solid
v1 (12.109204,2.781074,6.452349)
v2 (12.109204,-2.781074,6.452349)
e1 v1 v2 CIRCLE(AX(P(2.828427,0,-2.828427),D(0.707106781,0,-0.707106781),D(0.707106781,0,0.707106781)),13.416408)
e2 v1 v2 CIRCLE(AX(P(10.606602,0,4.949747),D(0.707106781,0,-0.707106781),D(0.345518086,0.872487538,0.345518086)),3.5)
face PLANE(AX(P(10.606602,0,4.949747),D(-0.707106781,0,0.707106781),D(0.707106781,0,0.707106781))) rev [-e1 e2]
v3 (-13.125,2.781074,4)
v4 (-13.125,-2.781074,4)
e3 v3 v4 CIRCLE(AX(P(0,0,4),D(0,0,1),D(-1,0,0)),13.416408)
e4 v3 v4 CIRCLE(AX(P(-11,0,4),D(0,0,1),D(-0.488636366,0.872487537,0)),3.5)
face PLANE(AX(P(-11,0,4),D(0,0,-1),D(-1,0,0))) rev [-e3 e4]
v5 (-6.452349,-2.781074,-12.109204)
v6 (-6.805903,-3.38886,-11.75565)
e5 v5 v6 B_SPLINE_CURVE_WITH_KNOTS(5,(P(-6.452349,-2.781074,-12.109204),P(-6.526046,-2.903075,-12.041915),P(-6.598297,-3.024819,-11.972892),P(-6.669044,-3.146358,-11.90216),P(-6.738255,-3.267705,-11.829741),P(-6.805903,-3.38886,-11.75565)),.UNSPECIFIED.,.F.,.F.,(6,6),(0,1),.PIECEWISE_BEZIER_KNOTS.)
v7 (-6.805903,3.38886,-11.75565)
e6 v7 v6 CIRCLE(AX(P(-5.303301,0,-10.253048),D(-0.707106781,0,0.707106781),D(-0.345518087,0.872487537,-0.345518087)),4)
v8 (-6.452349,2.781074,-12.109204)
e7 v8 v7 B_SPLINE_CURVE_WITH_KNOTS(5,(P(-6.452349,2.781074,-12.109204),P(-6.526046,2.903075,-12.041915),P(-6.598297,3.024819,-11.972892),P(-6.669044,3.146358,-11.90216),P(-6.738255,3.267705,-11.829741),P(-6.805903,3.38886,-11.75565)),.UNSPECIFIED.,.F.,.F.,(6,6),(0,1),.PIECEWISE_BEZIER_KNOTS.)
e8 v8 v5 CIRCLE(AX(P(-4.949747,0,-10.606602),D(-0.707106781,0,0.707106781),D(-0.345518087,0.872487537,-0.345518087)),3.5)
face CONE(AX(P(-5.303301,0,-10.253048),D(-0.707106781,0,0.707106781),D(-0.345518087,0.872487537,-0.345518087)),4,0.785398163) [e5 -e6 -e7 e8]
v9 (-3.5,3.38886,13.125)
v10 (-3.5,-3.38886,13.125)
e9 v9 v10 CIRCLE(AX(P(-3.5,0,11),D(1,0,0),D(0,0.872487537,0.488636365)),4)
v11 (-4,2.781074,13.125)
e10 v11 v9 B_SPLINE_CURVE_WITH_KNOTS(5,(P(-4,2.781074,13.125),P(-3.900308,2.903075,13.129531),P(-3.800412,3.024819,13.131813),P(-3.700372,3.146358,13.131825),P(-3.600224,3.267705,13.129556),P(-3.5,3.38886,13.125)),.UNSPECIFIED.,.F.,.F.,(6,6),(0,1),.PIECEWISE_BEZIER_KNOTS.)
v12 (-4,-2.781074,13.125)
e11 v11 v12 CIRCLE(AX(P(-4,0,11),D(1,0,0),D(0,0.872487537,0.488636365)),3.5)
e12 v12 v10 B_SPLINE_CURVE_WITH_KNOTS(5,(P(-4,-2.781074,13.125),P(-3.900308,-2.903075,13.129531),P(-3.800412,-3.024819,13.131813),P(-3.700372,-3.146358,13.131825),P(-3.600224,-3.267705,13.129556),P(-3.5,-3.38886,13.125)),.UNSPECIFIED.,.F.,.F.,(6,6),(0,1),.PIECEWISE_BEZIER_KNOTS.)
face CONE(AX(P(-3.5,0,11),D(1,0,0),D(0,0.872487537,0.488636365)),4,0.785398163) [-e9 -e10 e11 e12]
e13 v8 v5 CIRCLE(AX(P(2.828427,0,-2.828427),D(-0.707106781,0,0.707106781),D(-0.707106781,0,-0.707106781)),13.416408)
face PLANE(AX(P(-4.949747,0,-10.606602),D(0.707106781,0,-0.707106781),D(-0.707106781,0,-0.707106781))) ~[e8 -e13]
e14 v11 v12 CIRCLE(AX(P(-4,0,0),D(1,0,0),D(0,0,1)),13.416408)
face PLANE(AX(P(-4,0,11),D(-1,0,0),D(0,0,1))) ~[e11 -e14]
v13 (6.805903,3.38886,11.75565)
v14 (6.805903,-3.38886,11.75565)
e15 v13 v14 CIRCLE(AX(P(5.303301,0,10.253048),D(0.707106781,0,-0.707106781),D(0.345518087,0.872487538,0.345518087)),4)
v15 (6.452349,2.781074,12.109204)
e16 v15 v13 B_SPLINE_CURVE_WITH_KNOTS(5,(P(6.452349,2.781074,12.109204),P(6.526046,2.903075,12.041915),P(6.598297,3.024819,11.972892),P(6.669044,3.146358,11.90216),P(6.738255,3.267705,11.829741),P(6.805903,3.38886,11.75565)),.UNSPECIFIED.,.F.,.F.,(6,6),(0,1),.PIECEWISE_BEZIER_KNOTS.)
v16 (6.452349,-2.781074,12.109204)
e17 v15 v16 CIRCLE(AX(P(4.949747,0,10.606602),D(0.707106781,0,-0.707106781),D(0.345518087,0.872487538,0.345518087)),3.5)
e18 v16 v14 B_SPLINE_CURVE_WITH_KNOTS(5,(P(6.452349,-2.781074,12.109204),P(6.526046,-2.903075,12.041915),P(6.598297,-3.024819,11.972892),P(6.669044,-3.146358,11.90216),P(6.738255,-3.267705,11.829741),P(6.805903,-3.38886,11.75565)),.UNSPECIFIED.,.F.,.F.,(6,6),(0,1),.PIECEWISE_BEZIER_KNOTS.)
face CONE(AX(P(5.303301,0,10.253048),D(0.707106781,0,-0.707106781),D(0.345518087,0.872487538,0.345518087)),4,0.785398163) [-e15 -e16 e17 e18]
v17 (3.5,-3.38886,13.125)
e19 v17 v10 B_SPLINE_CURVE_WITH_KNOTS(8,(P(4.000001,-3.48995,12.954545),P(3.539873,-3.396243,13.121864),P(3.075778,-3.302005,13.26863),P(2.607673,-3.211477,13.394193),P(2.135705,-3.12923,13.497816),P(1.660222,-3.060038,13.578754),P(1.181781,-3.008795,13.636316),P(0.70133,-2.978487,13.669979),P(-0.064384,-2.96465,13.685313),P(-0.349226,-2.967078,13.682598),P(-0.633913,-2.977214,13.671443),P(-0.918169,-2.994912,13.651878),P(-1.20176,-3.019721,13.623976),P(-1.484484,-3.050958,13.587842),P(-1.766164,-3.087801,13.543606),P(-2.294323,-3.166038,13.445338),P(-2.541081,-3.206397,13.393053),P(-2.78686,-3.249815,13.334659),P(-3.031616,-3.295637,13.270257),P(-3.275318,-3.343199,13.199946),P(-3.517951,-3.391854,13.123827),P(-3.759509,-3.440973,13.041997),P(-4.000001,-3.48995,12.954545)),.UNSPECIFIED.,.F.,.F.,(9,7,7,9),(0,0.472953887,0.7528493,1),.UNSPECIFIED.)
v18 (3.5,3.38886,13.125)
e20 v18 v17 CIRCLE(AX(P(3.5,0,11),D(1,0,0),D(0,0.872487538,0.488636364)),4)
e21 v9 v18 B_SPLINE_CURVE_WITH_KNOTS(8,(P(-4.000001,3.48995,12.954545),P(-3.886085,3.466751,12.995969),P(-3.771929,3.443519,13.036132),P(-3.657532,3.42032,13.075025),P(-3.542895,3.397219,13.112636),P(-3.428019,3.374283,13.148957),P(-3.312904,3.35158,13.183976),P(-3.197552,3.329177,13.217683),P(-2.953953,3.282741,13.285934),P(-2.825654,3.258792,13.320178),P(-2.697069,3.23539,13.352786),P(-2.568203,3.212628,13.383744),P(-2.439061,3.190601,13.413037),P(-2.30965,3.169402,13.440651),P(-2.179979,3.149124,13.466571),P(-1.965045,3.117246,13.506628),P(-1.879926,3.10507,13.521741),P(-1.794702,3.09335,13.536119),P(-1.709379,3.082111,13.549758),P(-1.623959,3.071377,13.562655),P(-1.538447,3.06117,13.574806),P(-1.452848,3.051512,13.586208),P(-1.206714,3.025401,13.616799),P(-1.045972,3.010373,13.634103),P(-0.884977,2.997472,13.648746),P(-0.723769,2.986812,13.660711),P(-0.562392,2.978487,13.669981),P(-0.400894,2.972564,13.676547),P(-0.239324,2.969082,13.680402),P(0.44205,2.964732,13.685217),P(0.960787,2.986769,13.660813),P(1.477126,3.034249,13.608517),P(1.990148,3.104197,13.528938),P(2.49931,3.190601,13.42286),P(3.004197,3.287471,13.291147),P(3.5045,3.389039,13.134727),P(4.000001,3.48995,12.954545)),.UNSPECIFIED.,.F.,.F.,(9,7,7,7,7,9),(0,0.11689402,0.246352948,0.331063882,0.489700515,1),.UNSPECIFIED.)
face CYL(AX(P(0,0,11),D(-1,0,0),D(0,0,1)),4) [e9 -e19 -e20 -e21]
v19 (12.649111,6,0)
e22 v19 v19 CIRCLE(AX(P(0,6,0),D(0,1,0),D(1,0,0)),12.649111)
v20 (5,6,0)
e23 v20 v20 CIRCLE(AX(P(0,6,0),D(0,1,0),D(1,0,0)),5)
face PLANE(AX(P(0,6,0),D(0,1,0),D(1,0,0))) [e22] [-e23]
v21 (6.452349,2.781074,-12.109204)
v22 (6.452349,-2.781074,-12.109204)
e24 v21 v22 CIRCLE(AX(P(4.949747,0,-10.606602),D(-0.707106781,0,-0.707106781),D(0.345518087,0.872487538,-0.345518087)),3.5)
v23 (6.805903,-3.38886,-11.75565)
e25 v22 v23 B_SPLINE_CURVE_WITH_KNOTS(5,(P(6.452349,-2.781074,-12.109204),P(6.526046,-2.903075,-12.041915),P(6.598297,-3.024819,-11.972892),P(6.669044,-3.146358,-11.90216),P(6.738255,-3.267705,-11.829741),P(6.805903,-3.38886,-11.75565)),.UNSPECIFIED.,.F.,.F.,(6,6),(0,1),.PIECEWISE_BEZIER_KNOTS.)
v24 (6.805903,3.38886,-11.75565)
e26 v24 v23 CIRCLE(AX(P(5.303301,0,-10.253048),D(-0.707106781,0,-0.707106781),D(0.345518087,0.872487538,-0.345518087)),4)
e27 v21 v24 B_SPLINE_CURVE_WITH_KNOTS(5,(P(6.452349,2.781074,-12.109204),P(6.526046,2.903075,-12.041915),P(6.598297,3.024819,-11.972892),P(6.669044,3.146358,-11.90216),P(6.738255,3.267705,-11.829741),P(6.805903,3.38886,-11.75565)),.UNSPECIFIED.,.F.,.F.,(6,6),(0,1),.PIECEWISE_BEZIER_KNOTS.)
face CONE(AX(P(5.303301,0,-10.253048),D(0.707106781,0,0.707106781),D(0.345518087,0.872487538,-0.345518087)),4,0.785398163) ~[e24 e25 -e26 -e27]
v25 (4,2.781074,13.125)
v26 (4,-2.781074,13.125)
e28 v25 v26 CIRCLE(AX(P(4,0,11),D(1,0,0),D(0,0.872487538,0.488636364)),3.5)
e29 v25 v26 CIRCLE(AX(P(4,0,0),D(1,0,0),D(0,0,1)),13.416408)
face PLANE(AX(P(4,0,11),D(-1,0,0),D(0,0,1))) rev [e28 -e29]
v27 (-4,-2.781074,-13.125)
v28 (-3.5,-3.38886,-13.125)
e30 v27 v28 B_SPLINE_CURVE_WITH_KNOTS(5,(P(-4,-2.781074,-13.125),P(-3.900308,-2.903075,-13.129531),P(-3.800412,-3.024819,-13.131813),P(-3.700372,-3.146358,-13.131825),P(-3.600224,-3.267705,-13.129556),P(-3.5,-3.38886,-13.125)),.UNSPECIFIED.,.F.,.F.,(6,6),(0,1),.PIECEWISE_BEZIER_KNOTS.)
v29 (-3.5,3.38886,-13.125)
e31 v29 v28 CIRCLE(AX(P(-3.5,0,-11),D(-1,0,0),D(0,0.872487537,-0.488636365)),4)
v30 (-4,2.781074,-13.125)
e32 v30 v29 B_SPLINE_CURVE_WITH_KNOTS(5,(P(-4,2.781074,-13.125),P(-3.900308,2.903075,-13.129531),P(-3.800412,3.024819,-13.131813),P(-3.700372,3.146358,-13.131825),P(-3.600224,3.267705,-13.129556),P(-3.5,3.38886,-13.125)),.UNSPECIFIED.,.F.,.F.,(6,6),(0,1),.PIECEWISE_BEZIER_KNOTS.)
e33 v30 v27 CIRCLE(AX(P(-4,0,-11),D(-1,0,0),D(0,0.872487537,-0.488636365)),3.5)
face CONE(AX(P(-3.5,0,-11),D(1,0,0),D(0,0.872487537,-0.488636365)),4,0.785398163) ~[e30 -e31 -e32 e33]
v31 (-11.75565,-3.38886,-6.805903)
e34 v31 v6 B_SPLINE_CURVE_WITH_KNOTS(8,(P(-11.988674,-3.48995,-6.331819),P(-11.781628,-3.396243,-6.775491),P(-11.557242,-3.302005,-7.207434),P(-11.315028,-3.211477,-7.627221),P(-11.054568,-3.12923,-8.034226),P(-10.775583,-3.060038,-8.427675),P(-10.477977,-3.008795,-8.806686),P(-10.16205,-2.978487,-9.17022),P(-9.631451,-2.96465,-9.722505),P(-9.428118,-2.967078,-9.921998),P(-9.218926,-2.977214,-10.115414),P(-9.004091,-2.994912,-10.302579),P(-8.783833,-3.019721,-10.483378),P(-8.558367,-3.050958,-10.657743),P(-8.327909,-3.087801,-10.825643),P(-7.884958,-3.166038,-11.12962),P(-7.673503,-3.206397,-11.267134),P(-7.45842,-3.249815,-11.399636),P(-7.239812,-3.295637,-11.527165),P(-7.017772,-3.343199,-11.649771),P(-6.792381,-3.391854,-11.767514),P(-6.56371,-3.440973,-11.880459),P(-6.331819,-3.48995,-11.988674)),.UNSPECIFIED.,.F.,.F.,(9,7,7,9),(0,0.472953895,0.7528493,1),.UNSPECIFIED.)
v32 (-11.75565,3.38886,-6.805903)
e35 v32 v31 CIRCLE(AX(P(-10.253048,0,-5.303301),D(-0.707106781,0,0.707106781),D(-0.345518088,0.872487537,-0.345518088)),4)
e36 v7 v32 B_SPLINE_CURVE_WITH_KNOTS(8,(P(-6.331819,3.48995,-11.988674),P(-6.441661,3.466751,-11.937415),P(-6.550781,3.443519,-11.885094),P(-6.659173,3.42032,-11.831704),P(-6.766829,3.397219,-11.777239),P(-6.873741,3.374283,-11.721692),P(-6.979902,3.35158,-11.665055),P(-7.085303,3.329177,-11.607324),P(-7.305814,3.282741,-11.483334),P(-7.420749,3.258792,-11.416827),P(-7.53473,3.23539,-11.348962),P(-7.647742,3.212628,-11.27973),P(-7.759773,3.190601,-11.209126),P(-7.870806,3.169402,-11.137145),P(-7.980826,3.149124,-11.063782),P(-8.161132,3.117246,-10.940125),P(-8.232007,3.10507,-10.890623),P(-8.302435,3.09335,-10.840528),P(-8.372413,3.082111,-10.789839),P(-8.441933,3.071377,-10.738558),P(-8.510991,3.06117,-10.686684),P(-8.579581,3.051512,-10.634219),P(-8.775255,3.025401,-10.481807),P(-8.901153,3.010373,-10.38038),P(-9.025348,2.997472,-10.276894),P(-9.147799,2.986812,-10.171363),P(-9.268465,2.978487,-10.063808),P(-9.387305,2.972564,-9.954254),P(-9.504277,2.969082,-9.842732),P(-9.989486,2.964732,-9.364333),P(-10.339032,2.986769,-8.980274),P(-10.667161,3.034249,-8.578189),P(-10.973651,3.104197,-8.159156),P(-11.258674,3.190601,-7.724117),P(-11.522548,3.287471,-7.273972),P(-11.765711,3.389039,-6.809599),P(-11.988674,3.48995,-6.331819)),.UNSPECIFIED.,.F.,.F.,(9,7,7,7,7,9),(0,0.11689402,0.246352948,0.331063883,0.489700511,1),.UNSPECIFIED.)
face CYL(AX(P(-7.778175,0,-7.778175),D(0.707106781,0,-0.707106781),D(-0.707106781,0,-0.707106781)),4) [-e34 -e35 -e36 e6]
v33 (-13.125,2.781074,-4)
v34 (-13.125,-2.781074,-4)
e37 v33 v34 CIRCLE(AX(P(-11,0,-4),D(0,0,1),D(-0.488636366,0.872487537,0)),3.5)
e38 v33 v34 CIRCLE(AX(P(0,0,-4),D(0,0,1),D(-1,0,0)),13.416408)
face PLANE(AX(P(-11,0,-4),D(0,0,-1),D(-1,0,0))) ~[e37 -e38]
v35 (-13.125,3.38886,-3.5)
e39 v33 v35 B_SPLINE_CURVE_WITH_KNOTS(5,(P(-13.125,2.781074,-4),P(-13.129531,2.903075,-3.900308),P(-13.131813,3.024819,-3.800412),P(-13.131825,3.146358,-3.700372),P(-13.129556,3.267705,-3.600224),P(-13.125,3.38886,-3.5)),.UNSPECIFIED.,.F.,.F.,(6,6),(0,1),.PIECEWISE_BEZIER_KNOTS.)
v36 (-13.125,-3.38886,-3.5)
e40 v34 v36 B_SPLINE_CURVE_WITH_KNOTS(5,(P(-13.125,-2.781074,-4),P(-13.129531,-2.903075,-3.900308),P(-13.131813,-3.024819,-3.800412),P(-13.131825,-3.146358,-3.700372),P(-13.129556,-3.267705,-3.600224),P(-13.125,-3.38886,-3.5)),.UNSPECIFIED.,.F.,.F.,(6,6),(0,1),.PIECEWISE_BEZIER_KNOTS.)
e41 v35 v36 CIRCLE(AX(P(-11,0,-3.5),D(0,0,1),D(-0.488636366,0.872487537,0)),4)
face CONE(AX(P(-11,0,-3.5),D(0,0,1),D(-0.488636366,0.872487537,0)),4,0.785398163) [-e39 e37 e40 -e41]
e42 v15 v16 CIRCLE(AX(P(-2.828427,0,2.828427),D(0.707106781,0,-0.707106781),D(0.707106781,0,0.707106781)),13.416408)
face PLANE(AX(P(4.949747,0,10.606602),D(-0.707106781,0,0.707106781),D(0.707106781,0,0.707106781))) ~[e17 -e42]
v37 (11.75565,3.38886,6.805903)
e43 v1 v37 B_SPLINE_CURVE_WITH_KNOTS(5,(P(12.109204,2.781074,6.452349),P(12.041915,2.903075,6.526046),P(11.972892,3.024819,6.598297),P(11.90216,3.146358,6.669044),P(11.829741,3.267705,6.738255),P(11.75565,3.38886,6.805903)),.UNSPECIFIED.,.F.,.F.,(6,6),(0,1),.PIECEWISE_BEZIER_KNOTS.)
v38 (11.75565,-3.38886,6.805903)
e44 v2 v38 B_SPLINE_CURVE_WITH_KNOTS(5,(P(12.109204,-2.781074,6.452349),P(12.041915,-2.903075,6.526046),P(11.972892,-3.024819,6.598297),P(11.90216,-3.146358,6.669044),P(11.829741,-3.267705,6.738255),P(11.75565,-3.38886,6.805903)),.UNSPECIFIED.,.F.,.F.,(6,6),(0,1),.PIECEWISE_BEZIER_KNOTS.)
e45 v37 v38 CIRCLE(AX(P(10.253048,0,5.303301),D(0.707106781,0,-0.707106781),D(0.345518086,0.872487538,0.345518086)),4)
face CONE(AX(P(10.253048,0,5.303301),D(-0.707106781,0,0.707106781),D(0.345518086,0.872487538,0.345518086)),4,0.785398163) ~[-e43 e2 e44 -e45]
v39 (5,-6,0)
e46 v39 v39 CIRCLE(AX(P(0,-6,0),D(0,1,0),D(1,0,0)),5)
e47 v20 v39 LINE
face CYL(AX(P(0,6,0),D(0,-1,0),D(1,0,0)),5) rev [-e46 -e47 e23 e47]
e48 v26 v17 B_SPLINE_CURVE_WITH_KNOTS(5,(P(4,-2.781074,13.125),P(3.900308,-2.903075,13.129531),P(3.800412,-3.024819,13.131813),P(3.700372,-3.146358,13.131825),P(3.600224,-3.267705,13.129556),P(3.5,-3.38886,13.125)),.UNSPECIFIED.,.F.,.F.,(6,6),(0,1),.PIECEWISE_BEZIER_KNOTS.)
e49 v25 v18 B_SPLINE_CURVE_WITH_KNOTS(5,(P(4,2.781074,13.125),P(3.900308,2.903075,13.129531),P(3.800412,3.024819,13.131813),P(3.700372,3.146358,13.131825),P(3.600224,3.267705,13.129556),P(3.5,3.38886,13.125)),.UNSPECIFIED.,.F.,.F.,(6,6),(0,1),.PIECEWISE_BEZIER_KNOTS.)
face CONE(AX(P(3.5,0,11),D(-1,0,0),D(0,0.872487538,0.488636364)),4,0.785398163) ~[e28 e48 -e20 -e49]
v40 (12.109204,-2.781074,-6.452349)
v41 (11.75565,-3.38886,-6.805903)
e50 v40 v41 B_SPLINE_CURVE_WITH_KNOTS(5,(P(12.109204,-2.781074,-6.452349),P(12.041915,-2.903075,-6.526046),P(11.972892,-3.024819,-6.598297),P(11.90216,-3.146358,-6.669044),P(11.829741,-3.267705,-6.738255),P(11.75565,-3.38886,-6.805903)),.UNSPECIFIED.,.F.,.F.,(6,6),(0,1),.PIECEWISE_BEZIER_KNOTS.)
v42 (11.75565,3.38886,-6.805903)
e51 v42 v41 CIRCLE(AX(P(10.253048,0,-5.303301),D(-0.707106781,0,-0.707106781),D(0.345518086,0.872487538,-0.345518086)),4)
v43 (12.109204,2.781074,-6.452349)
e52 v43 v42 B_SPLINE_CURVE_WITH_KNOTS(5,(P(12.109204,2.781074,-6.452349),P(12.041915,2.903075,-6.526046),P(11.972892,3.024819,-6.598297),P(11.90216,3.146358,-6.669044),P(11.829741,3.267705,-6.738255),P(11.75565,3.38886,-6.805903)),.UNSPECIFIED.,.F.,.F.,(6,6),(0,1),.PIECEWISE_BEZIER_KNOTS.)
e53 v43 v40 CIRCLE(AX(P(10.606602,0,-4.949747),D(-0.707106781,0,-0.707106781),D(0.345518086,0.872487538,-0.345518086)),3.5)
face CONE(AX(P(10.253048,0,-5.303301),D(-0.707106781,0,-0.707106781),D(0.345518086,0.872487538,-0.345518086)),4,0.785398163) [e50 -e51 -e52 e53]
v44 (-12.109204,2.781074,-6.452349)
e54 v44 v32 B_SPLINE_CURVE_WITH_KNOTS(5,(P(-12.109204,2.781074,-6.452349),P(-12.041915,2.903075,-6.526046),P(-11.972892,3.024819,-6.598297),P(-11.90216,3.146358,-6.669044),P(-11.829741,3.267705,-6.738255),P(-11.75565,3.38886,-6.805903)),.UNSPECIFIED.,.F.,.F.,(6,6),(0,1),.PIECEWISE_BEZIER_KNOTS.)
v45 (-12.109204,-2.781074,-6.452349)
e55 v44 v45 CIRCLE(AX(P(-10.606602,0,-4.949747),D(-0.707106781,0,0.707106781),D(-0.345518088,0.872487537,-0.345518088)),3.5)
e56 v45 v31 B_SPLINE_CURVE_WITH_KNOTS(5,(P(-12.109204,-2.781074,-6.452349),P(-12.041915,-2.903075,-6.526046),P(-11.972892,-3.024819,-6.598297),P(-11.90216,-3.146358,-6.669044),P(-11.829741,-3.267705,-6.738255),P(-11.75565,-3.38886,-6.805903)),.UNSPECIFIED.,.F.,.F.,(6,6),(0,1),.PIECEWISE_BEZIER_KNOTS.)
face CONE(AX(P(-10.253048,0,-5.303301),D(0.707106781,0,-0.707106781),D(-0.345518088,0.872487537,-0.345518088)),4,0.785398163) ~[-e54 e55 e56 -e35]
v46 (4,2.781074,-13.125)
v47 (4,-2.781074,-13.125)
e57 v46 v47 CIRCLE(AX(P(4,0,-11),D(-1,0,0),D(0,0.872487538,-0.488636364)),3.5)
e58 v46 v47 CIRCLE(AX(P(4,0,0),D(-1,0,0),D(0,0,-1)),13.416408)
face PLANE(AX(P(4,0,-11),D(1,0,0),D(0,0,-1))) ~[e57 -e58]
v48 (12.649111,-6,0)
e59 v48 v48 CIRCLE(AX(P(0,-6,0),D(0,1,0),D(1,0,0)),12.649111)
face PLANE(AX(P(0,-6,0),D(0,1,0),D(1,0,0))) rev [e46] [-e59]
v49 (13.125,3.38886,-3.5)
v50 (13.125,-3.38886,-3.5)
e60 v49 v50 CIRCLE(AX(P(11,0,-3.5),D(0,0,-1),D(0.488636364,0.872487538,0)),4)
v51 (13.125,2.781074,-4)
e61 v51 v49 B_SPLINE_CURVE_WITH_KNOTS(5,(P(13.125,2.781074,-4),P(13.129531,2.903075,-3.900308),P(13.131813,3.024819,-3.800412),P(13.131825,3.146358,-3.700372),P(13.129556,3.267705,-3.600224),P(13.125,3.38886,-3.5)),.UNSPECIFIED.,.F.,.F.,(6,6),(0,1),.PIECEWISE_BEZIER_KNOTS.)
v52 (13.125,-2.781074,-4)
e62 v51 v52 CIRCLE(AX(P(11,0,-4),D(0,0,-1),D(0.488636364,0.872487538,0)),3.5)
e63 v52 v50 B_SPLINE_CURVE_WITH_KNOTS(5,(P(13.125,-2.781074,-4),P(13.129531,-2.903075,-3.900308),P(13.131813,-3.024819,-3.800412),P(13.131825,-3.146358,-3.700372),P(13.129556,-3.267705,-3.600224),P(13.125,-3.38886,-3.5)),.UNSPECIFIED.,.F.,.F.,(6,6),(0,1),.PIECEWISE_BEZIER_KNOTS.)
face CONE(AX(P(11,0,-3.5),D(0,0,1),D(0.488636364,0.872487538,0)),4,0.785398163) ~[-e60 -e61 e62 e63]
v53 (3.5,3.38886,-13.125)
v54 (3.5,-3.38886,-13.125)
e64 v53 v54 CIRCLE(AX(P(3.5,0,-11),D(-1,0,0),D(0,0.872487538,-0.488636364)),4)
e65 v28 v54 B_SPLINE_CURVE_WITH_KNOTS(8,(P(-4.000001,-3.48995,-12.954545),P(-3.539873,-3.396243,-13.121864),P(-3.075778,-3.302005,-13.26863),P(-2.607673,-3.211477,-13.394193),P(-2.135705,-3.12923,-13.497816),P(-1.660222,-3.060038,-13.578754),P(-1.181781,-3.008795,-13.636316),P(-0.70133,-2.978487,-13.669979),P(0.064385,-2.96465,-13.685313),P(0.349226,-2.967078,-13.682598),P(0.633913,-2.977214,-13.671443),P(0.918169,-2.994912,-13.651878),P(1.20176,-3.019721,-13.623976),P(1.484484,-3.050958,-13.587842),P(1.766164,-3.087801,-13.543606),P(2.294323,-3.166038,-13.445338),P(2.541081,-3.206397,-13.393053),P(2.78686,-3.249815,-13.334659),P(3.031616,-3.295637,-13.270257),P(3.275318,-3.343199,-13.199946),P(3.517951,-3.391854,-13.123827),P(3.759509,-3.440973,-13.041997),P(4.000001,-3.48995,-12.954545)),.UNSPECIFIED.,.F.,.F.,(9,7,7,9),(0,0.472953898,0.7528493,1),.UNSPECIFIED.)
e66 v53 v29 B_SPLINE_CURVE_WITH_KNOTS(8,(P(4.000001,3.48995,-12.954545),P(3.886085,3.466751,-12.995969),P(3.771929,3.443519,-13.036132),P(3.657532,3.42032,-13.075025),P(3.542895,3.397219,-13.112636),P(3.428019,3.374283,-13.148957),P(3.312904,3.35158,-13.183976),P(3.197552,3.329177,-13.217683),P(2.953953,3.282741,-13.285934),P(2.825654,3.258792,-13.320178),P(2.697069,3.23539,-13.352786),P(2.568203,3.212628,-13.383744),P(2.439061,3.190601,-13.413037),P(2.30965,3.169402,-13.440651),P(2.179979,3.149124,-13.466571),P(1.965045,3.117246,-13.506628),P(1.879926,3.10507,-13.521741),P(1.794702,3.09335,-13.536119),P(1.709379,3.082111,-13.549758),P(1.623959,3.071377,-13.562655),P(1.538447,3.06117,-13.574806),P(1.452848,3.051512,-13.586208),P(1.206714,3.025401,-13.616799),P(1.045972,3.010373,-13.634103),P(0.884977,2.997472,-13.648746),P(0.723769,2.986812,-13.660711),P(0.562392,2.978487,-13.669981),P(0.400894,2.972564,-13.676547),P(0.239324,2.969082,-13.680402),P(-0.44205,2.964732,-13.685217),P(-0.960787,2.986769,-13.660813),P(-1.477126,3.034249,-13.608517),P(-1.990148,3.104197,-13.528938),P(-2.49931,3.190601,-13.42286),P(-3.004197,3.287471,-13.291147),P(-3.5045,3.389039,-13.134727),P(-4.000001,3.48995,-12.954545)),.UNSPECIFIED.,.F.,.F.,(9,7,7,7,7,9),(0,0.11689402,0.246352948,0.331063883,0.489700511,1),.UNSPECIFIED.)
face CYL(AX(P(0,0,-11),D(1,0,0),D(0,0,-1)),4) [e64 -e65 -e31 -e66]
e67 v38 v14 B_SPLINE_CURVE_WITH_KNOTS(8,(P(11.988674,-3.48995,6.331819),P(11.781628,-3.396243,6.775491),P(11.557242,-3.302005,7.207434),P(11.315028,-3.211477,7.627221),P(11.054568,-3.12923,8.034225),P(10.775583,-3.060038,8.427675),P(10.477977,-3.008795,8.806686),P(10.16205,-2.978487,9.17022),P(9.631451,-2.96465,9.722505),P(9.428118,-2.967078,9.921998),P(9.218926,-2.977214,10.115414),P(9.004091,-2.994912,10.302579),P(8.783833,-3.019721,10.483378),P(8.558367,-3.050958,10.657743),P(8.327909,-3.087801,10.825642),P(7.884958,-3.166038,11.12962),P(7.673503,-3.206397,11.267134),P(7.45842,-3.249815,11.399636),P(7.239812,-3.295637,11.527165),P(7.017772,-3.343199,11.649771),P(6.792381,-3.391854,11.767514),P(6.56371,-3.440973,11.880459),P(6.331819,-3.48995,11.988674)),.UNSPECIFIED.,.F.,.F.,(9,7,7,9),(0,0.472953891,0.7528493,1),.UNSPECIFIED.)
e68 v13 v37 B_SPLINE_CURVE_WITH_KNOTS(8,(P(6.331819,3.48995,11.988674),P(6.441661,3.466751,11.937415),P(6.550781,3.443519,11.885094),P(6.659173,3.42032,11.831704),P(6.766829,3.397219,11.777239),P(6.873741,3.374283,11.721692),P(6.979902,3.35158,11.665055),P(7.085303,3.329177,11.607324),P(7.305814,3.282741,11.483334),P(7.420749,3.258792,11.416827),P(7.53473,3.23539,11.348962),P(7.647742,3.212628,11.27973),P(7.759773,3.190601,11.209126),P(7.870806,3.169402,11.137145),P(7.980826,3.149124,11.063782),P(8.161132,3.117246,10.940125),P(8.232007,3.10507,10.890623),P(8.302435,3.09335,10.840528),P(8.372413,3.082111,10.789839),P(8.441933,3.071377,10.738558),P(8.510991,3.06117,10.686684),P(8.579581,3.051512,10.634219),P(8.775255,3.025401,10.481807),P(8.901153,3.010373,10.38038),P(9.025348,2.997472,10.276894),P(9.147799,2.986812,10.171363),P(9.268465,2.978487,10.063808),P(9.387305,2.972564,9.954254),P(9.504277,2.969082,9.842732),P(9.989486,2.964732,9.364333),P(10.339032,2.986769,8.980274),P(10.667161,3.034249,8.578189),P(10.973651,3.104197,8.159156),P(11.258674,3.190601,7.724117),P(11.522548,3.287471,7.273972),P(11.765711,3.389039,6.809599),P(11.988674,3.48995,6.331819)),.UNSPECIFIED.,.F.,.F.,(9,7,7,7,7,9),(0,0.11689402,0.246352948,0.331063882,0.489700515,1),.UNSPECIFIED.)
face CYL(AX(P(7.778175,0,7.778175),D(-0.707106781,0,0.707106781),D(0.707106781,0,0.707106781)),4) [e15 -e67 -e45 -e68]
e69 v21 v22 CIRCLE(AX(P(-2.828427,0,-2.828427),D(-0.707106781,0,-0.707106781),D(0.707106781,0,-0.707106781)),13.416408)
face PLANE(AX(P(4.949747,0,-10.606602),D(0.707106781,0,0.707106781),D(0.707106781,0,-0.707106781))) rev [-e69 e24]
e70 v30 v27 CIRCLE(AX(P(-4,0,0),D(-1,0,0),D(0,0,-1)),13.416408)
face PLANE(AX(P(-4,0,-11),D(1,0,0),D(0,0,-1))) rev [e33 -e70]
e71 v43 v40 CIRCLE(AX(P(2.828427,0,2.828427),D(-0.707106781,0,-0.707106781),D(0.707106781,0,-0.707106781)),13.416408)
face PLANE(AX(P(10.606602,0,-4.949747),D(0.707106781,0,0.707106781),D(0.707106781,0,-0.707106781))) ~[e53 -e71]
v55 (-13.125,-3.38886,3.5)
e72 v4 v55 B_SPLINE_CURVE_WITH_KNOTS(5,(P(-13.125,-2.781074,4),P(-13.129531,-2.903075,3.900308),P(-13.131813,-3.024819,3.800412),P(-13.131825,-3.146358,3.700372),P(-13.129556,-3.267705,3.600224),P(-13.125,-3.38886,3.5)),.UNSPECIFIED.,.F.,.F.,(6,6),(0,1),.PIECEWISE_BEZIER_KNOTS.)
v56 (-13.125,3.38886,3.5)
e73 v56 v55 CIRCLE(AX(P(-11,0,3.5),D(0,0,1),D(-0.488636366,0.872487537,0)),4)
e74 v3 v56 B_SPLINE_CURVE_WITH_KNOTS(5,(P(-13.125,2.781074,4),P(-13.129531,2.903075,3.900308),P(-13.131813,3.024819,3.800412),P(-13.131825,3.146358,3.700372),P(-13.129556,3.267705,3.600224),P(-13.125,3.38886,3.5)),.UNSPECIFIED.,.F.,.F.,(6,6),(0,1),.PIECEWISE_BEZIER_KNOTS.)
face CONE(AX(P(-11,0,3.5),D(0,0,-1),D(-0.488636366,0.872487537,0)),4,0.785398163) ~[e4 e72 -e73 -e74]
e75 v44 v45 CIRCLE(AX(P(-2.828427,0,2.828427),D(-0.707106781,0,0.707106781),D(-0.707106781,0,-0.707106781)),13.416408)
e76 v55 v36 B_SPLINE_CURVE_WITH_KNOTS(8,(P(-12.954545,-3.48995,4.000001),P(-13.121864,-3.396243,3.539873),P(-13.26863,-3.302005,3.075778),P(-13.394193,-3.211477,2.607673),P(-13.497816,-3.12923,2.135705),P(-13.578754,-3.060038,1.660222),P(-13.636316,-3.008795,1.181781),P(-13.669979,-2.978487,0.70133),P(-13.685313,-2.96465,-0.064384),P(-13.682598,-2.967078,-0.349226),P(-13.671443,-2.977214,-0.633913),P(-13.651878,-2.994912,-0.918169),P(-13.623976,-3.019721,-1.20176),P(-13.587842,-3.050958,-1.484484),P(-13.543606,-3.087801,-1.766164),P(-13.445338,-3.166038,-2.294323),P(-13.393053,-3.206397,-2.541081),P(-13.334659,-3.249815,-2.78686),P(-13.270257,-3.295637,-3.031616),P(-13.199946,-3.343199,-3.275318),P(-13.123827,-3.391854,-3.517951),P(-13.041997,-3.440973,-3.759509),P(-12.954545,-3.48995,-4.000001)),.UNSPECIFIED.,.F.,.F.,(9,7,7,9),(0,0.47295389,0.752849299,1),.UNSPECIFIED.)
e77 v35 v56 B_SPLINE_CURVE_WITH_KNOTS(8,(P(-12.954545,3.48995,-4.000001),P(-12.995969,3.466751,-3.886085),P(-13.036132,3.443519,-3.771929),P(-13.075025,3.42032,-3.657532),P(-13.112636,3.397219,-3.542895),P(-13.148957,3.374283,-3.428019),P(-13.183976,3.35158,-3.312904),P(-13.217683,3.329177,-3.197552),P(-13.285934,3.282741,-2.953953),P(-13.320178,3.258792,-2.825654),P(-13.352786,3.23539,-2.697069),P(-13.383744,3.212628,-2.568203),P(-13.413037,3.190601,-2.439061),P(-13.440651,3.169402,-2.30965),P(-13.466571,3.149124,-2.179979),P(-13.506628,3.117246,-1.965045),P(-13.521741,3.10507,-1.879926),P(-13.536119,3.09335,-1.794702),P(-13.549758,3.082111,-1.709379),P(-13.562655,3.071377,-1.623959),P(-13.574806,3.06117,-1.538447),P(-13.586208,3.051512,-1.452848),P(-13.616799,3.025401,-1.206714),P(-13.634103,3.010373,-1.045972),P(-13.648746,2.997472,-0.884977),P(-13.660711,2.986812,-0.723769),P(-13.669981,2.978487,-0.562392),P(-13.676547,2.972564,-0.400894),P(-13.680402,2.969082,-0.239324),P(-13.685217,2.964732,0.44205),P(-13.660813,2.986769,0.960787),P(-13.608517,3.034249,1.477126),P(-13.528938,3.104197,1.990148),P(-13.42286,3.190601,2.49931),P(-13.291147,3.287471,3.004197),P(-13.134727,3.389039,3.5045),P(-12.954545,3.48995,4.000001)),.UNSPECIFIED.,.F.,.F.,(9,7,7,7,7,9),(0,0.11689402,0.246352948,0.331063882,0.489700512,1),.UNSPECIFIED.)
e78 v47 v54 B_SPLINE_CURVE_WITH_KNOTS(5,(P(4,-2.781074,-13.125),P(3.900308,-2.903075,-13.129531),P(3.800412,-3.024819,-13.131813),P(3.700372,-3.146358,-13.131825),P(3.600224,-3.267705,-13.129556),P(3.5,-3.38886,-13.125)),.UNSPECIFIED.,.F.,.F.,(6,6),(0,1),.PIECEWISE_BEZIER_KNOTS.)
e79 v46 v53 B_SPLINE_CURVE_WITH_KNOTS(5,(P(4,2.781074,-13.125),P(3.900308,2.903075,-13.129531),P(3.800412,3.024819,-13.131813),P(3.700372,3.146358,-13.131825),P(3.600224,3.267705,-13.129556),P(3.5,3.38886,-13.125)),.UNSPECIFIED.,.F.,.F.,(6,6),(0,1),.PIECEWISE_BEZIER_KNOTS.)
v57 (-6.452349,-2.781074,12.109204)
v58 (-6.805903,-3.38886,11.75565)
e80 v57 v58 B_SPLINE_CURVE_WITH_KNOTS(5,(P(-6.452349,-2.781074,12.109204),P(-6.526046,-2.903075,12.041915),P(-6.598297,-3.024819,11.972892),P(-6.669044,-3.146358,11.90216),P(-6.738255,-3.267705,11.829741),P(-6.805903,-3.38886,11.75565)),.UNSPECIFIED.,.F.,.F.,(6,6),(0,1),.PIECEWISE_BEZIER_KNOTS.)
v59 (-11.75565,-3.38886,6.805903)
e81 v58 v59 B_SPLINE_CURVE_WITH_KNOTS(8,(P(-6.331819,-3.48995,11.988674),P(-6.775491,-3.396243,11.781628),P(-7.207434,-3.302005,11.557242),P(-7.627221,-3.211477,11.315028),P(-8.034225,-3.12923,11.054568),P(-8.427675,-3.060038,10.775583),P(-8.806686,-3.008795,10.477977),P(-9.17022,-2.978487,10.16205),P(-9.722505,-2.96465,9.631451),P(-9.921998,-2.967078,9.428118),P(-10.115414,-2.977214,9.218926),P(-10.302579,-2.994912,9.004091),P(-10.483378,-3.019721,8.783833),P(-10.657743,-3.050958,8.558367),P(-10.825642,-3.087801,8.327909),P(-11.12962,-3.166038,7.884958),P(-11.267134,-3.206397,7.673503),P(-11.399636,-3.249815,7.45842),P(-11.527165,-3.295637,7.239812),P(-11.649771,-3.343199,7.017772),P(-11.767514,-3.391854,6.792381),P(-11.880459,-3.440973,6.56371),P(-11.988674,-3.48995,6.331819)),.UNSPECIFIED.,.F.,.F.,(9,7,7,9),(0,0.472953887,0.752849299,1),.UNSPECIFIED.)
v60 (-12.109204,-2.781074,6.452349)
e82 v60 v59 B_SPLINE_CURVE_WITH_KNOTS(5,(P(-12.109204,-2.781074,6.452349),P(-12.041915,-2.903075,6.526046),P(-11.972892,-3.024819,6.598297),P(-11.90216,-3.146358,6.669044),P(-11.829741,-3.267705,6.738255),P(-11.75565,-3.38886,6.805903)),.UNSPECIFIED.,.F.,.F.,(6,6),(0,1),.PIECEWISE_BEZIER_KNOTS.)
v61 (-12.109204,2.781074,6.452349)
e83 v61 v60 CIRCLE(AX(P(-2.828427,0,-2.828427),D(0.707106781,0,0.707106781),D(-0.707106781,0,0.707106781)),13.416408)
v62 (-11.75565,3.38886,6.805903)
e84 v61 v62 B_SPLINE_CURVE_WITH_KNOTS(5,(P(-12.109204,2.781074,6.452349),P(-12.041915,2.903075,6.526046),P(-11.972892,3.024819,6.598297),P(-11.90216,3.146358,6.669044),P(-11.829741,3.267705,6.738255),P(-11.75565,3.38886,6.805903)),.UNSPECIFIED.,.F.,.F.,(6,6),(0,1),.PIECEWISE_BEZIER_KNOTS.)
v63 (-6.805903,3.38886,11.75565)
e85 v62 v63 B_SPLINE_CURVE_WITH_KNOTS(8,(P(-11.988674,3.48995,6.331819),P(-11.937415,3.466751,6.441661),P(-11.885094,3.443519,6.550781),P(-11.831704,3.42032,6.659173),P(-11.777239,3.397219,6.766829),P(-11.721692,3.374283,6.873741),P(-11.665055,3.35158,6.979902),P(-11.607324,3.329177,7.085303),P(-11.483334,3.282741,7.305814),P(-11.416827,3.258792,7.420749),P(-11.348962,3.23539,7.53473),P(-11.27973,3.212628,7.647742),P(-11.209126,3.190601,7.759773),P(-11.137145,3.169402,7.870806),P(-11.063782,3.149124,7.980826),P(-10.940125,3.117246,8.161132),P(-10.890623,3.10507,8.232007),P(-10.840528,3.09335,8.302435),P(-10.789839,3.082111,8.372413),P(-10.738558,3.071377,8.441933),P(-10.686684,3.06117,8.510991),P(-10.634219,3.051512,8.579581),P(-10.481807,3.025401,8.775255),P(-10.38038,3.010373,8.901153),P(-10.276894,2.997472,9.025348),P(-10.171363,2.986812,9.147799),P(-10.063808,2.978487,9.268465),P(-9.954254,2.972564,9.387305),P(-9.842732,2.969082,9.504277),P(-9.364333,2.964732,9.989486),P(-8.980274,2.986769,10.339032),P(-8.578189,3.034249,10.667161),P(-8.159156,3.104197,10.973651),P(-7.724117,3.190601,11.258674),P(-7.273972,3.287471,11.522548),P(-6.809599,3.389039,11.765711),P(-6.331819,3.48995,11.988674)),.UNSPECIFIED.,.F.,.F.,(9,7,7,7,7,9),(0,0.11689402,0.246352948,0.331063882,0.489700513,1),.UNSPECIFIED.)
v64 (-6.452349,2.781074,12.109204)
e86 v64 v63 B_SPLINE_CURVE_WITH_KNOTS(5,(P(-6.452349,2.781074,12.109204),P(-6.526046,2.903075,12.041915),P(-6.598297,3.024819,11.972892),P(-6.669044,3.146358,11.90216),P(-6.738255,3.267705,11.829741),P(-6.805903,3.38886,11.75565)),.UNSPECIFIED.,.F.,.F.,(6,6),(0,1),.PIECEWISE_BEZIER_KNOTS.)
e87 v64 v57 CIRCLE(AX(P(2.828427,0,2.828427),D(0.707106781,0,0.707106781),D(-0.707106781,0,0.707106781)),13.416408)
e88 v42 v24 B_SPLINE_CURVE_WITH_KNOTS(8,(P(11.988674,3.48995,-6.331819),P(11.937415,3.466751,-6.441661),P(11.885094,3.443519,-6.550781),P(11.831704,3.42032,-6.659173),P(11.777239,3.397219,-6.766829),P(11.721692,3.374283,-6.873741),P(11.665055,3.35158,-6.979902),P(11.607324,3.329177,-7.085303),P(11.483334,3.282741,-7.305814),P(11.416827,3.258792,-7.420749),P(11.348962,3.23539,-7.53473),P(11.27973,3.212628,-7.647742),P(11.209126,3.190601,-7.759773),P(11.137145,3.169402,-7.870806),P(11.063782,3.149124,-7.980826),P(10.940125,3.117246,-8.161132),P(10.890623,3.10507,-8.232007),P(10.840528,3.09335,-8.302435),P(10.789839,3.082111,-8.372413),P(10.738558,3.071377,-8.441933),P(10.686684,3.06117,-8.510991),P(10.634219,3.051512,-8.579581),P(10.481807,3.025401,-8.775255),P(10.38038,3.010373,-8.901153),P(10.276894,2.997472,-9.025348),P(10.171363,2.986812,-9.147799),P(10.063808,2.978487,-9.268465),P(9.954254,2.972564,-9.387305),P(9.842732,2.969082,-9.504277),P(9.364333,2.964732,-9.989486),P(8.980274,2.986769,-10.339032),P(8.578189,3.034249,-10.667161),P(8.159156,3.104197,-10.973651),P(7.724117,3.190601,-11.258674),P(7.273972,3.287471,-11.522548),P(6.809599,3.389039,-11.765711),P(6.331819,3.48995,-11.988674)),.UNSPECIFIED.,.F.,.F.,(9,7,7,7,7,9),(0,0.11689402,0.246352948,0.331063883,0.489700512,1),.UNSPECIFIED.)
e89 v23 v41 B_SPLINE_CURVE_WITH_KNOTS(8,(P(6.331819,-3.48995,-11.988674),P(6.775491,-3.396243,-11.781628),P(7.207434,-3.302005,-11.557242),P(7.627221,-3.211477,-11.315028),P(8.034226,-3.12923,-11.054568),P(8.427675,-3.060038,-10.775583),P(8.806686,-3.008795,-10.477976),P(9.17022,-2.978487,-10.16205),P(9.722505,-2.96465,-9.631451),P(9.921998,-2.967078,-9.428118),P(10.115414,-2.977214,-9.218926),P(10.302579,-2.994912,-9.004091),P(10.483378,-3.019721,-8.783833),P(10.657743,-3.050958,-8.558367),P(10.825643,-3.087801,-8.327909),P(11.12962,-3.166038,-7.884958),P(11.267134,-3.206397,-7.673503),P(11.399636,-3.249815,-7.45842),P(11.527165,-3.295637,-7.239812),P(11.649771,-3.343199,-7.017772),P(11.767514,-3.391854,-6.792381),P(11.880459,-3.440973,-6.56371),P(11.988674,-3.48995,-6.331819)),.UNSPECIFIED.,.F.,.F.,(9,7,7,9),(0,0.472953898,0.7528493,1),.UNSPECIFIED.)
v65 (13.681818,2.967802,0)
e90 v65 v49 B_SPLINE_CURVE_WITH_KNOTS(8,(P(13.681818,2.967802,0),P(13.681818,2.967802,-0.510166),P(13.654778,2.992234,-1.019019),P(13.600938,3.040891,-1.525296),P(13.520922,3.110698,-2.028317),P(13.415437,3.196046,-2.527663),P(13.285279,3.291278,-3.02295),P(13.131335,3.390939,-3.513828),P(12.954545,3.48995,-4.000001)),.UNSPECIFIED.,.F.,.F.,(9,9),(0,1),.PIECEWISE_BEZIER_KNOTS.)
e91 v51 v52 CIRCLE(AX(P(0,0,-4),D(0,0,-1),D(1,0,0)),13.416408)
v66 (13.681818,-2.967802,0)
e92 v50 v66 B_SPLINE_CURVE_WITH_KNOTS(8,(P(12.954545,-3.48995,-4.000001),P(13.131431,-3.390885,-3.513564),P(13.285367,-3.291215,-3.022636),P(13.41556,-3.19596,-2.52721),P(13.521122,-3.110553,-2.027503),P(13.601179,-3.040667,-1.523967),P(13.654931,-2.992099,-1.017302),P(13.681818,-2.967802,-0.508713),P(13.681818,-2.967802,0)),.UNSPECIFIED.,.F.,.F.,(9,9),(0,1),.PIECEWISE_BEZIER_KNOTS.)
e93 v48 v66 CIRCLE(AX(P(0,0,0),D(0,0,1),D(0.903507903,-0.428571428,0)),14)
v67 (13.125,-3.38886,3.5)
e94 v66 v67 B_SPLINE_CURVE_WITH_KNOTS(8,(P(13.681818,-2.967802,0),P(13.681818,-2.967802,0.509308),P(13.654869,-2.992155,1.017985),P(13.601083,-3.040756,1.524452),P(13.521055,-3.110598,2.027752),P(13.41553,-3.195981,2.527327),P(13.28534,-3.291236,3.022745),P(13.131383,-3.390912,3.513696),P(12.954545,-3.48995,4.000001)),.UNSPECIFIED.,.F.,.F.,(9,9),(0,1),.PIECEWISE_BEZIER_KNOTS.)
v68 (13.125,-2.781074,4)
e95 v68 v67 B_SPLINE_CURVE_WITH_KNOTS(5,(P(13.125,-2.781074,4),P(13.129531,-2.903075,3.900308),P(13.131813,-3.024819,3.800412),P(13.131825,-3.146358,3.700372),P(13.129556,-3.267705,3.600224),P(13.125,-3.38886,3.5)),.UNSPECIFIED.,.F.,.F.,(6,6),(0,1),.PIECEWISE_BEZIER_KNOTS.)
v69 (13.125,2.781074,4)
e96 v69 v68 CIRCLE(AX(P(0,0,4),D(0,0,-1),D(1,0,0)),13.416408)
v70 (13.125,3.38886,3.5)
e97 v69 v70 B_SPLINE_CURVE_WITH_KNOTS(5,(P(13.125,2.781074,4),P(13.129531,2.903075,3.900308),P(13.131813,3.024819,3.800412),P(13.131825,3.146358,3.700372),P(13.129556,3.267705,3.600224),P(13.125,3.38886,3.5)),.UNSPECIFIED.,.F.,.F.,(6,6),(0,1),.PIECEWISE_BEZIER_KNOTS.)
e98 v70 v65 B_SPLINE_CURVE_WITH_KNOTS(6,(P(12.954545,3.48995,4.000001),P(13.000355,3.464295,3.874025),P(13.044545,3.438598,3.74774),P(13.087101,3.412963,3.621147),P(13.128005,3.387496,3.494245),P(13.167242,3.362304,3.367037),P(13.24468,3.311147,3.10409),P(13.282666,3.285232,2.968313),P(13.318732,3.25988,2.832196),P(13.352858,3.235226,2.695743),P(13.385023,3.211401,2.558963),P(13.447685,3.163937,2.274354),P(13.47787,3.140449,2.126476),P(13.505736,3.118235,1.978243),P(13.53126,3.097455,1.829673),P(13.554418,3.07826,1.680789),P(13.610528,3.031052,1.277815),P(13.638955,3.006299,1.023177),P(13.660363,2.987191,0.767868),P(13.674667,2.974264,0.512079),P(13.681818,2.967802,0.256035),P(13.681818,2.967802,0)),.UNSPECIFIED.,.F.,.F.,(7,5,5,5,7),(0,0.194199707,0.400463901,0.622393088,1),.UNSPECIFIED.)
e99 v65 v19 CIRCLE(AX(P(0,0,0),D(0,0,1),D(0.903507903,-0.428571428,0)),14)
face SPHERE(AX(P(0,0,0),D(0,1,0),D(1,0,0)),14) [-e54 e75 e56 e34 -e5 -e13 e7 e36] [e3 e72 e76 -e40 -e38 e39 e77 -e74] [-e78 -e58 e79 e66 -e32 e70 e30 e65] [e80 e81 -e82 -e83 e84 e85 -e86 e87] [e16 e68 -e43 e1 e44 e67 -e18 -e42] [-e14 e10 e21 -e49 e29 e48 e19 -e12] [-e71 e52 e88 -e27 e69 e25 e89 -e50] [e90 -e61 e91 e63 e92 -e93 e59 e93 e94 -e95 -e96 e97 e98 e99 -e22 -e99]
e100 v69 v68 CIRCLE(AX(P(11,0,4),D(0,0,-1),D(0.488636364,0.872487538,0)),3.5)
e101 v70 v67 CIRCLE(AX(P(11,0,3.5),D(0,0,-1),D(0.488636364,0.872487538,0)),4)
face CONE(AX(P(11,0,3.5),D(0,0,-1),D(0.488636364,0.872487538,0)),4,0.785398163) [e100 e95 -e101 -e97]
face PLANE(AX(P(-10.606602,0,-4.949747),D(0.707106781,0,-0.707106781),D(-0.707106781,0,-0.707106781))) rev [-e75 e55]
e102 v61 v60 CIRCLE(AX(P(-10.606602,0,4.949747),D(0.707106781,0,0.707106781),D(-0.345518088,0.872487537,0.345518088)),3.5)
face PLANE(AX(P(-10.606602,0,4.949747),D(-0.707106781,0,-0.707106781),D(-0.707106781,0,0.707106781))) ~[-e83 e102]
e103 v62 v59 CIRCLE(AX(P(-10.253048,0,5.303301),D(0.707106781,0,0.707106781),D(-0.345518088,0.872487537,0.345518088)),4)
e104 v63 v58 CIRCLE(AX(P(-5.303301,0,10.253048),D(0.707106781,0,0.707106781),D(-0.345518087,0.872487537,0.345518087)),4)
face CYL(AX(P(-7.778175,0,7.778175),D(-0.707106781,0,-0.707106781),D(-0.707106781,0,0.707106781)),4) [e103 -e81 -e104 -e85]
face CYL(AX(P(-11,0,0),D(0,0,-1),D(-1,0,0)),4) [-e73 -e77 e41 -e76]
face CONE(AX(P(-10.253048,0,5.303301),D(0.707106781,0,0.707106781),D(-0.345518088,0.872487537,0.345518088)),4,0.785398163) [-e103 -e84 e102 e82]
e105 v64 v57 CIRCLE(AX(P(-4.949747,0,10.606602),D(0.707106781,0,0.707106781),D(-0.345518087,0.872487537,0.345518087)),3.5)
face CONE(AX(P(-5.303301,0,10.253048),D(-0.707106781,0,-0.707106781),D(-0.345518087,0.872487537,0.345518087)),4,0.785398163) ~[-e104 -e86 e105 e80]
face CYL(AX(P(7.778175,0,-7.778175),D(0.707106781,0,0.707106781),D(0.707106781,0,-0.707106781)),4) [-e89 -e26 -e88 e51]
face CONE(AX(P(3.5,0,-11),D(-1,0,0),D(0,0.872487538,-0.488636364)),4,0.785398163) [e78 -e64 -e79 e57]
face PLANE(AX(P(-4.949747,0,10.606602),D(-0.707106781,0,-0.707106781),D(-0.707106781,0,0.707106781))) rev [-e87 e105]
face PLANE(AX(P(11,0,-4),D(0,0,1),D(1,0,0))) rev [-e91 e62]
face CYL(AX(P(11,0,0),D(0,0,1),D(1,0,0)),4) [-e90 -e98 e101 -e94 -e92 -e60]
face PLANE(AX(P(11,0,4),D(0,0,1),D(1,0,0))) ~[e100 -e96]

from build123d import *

# Parameters (mm, degrees)
SKETCH_3_W                           = 8
SKETCH_3_H                           = 4
CHAMFER_1_SIZE                       = 0.5
PATTERN_CIRCULAR_1_COUNT             = 8
CHAMFER_1_OF_PATTERN_CIRCULAR_1_SIZE = 0.5


with BuildPart() as part:
    # 草图5 → 旋转1 (revolve)
    with BuildSketch(Plane.XY):
        with BuildLine():
            Line((5, 6), (5, -6))
            Line((5, -6), (12.649110641, -6))
            ThreePointArc((12.649110641, -6), (14, 0), (12.649110641, 6))
            Line((12.649110641, 6), (5, 6))
        make_face()
    revolve(axis=Axis((0, 0, 0), (0, 1, 0)))

    # 草图3 → 旋转2 (revolve)
    with BuildSketch(Plane(origin=(0, 0, 0), x_dir=(1, 0, 0), z_dir=(0, 1, 0))):
        with Locations((0, 13)):
            Rectangle(SKETCH_3_W, SKETCH_3_H)
    revolve_2 = revolve(axis=Axis((-4, 0, -11), (1, 0, 0)))

    # 倒角1
    chamfer_1_edges = [part.edges().sort_by_distance(p)[0] for p in [
        (-4, 0, -15),
        (4, 0, -15),
    ]]
    chamfer(chamfer_1_edges, length=CHAMFER_1_SIZE)

    # 阵列(圆周)1: 旋转2 ×8 about axis
    pattern_circular_1_axis = Axis((0, 0, 0), (0, 1, 0))
    for i in range(1, PATTERN_CIRCULAR_1_COUNT):
        add(revolve_2.rotate(pattern_circular_1_axis, i * 360 / PATTERN_CIRCULAR_1_COUNT))

    # 倒角1 of 阵列(圆周)1
    chamfer_1_of_pattern_circular_1_edges = [part.edges().sort_by_distance(p)[0] for p in [
        (-13.435028843, 0, -7.778174593),
        (-7.778174593, 0, -13.435028843),
        (-15, 0, 4),
        (-15, 0, -4),
        (-7.778174593, 0, 13.435028843),
        (-13.435028843, 0, 7.778174593),
        (4, 0, 15),
        (-4, 0, 15),
        (13.435028843, 0, 7.778174593),
        (7.778174593, 0, 13.435028843),
        (15, 0, -4),
        (15, 0, 4),
        (7.778174593, 0, -13.435028843),
        (13.435028843, 0, -7.778174593),
    ]]
    chamfer(chamfer_1_of_pattern_circular_1_edges, length=CHAMFER_1_OF_PATTERN_CIRCULAR_1_SIZE)


solid = part.part
